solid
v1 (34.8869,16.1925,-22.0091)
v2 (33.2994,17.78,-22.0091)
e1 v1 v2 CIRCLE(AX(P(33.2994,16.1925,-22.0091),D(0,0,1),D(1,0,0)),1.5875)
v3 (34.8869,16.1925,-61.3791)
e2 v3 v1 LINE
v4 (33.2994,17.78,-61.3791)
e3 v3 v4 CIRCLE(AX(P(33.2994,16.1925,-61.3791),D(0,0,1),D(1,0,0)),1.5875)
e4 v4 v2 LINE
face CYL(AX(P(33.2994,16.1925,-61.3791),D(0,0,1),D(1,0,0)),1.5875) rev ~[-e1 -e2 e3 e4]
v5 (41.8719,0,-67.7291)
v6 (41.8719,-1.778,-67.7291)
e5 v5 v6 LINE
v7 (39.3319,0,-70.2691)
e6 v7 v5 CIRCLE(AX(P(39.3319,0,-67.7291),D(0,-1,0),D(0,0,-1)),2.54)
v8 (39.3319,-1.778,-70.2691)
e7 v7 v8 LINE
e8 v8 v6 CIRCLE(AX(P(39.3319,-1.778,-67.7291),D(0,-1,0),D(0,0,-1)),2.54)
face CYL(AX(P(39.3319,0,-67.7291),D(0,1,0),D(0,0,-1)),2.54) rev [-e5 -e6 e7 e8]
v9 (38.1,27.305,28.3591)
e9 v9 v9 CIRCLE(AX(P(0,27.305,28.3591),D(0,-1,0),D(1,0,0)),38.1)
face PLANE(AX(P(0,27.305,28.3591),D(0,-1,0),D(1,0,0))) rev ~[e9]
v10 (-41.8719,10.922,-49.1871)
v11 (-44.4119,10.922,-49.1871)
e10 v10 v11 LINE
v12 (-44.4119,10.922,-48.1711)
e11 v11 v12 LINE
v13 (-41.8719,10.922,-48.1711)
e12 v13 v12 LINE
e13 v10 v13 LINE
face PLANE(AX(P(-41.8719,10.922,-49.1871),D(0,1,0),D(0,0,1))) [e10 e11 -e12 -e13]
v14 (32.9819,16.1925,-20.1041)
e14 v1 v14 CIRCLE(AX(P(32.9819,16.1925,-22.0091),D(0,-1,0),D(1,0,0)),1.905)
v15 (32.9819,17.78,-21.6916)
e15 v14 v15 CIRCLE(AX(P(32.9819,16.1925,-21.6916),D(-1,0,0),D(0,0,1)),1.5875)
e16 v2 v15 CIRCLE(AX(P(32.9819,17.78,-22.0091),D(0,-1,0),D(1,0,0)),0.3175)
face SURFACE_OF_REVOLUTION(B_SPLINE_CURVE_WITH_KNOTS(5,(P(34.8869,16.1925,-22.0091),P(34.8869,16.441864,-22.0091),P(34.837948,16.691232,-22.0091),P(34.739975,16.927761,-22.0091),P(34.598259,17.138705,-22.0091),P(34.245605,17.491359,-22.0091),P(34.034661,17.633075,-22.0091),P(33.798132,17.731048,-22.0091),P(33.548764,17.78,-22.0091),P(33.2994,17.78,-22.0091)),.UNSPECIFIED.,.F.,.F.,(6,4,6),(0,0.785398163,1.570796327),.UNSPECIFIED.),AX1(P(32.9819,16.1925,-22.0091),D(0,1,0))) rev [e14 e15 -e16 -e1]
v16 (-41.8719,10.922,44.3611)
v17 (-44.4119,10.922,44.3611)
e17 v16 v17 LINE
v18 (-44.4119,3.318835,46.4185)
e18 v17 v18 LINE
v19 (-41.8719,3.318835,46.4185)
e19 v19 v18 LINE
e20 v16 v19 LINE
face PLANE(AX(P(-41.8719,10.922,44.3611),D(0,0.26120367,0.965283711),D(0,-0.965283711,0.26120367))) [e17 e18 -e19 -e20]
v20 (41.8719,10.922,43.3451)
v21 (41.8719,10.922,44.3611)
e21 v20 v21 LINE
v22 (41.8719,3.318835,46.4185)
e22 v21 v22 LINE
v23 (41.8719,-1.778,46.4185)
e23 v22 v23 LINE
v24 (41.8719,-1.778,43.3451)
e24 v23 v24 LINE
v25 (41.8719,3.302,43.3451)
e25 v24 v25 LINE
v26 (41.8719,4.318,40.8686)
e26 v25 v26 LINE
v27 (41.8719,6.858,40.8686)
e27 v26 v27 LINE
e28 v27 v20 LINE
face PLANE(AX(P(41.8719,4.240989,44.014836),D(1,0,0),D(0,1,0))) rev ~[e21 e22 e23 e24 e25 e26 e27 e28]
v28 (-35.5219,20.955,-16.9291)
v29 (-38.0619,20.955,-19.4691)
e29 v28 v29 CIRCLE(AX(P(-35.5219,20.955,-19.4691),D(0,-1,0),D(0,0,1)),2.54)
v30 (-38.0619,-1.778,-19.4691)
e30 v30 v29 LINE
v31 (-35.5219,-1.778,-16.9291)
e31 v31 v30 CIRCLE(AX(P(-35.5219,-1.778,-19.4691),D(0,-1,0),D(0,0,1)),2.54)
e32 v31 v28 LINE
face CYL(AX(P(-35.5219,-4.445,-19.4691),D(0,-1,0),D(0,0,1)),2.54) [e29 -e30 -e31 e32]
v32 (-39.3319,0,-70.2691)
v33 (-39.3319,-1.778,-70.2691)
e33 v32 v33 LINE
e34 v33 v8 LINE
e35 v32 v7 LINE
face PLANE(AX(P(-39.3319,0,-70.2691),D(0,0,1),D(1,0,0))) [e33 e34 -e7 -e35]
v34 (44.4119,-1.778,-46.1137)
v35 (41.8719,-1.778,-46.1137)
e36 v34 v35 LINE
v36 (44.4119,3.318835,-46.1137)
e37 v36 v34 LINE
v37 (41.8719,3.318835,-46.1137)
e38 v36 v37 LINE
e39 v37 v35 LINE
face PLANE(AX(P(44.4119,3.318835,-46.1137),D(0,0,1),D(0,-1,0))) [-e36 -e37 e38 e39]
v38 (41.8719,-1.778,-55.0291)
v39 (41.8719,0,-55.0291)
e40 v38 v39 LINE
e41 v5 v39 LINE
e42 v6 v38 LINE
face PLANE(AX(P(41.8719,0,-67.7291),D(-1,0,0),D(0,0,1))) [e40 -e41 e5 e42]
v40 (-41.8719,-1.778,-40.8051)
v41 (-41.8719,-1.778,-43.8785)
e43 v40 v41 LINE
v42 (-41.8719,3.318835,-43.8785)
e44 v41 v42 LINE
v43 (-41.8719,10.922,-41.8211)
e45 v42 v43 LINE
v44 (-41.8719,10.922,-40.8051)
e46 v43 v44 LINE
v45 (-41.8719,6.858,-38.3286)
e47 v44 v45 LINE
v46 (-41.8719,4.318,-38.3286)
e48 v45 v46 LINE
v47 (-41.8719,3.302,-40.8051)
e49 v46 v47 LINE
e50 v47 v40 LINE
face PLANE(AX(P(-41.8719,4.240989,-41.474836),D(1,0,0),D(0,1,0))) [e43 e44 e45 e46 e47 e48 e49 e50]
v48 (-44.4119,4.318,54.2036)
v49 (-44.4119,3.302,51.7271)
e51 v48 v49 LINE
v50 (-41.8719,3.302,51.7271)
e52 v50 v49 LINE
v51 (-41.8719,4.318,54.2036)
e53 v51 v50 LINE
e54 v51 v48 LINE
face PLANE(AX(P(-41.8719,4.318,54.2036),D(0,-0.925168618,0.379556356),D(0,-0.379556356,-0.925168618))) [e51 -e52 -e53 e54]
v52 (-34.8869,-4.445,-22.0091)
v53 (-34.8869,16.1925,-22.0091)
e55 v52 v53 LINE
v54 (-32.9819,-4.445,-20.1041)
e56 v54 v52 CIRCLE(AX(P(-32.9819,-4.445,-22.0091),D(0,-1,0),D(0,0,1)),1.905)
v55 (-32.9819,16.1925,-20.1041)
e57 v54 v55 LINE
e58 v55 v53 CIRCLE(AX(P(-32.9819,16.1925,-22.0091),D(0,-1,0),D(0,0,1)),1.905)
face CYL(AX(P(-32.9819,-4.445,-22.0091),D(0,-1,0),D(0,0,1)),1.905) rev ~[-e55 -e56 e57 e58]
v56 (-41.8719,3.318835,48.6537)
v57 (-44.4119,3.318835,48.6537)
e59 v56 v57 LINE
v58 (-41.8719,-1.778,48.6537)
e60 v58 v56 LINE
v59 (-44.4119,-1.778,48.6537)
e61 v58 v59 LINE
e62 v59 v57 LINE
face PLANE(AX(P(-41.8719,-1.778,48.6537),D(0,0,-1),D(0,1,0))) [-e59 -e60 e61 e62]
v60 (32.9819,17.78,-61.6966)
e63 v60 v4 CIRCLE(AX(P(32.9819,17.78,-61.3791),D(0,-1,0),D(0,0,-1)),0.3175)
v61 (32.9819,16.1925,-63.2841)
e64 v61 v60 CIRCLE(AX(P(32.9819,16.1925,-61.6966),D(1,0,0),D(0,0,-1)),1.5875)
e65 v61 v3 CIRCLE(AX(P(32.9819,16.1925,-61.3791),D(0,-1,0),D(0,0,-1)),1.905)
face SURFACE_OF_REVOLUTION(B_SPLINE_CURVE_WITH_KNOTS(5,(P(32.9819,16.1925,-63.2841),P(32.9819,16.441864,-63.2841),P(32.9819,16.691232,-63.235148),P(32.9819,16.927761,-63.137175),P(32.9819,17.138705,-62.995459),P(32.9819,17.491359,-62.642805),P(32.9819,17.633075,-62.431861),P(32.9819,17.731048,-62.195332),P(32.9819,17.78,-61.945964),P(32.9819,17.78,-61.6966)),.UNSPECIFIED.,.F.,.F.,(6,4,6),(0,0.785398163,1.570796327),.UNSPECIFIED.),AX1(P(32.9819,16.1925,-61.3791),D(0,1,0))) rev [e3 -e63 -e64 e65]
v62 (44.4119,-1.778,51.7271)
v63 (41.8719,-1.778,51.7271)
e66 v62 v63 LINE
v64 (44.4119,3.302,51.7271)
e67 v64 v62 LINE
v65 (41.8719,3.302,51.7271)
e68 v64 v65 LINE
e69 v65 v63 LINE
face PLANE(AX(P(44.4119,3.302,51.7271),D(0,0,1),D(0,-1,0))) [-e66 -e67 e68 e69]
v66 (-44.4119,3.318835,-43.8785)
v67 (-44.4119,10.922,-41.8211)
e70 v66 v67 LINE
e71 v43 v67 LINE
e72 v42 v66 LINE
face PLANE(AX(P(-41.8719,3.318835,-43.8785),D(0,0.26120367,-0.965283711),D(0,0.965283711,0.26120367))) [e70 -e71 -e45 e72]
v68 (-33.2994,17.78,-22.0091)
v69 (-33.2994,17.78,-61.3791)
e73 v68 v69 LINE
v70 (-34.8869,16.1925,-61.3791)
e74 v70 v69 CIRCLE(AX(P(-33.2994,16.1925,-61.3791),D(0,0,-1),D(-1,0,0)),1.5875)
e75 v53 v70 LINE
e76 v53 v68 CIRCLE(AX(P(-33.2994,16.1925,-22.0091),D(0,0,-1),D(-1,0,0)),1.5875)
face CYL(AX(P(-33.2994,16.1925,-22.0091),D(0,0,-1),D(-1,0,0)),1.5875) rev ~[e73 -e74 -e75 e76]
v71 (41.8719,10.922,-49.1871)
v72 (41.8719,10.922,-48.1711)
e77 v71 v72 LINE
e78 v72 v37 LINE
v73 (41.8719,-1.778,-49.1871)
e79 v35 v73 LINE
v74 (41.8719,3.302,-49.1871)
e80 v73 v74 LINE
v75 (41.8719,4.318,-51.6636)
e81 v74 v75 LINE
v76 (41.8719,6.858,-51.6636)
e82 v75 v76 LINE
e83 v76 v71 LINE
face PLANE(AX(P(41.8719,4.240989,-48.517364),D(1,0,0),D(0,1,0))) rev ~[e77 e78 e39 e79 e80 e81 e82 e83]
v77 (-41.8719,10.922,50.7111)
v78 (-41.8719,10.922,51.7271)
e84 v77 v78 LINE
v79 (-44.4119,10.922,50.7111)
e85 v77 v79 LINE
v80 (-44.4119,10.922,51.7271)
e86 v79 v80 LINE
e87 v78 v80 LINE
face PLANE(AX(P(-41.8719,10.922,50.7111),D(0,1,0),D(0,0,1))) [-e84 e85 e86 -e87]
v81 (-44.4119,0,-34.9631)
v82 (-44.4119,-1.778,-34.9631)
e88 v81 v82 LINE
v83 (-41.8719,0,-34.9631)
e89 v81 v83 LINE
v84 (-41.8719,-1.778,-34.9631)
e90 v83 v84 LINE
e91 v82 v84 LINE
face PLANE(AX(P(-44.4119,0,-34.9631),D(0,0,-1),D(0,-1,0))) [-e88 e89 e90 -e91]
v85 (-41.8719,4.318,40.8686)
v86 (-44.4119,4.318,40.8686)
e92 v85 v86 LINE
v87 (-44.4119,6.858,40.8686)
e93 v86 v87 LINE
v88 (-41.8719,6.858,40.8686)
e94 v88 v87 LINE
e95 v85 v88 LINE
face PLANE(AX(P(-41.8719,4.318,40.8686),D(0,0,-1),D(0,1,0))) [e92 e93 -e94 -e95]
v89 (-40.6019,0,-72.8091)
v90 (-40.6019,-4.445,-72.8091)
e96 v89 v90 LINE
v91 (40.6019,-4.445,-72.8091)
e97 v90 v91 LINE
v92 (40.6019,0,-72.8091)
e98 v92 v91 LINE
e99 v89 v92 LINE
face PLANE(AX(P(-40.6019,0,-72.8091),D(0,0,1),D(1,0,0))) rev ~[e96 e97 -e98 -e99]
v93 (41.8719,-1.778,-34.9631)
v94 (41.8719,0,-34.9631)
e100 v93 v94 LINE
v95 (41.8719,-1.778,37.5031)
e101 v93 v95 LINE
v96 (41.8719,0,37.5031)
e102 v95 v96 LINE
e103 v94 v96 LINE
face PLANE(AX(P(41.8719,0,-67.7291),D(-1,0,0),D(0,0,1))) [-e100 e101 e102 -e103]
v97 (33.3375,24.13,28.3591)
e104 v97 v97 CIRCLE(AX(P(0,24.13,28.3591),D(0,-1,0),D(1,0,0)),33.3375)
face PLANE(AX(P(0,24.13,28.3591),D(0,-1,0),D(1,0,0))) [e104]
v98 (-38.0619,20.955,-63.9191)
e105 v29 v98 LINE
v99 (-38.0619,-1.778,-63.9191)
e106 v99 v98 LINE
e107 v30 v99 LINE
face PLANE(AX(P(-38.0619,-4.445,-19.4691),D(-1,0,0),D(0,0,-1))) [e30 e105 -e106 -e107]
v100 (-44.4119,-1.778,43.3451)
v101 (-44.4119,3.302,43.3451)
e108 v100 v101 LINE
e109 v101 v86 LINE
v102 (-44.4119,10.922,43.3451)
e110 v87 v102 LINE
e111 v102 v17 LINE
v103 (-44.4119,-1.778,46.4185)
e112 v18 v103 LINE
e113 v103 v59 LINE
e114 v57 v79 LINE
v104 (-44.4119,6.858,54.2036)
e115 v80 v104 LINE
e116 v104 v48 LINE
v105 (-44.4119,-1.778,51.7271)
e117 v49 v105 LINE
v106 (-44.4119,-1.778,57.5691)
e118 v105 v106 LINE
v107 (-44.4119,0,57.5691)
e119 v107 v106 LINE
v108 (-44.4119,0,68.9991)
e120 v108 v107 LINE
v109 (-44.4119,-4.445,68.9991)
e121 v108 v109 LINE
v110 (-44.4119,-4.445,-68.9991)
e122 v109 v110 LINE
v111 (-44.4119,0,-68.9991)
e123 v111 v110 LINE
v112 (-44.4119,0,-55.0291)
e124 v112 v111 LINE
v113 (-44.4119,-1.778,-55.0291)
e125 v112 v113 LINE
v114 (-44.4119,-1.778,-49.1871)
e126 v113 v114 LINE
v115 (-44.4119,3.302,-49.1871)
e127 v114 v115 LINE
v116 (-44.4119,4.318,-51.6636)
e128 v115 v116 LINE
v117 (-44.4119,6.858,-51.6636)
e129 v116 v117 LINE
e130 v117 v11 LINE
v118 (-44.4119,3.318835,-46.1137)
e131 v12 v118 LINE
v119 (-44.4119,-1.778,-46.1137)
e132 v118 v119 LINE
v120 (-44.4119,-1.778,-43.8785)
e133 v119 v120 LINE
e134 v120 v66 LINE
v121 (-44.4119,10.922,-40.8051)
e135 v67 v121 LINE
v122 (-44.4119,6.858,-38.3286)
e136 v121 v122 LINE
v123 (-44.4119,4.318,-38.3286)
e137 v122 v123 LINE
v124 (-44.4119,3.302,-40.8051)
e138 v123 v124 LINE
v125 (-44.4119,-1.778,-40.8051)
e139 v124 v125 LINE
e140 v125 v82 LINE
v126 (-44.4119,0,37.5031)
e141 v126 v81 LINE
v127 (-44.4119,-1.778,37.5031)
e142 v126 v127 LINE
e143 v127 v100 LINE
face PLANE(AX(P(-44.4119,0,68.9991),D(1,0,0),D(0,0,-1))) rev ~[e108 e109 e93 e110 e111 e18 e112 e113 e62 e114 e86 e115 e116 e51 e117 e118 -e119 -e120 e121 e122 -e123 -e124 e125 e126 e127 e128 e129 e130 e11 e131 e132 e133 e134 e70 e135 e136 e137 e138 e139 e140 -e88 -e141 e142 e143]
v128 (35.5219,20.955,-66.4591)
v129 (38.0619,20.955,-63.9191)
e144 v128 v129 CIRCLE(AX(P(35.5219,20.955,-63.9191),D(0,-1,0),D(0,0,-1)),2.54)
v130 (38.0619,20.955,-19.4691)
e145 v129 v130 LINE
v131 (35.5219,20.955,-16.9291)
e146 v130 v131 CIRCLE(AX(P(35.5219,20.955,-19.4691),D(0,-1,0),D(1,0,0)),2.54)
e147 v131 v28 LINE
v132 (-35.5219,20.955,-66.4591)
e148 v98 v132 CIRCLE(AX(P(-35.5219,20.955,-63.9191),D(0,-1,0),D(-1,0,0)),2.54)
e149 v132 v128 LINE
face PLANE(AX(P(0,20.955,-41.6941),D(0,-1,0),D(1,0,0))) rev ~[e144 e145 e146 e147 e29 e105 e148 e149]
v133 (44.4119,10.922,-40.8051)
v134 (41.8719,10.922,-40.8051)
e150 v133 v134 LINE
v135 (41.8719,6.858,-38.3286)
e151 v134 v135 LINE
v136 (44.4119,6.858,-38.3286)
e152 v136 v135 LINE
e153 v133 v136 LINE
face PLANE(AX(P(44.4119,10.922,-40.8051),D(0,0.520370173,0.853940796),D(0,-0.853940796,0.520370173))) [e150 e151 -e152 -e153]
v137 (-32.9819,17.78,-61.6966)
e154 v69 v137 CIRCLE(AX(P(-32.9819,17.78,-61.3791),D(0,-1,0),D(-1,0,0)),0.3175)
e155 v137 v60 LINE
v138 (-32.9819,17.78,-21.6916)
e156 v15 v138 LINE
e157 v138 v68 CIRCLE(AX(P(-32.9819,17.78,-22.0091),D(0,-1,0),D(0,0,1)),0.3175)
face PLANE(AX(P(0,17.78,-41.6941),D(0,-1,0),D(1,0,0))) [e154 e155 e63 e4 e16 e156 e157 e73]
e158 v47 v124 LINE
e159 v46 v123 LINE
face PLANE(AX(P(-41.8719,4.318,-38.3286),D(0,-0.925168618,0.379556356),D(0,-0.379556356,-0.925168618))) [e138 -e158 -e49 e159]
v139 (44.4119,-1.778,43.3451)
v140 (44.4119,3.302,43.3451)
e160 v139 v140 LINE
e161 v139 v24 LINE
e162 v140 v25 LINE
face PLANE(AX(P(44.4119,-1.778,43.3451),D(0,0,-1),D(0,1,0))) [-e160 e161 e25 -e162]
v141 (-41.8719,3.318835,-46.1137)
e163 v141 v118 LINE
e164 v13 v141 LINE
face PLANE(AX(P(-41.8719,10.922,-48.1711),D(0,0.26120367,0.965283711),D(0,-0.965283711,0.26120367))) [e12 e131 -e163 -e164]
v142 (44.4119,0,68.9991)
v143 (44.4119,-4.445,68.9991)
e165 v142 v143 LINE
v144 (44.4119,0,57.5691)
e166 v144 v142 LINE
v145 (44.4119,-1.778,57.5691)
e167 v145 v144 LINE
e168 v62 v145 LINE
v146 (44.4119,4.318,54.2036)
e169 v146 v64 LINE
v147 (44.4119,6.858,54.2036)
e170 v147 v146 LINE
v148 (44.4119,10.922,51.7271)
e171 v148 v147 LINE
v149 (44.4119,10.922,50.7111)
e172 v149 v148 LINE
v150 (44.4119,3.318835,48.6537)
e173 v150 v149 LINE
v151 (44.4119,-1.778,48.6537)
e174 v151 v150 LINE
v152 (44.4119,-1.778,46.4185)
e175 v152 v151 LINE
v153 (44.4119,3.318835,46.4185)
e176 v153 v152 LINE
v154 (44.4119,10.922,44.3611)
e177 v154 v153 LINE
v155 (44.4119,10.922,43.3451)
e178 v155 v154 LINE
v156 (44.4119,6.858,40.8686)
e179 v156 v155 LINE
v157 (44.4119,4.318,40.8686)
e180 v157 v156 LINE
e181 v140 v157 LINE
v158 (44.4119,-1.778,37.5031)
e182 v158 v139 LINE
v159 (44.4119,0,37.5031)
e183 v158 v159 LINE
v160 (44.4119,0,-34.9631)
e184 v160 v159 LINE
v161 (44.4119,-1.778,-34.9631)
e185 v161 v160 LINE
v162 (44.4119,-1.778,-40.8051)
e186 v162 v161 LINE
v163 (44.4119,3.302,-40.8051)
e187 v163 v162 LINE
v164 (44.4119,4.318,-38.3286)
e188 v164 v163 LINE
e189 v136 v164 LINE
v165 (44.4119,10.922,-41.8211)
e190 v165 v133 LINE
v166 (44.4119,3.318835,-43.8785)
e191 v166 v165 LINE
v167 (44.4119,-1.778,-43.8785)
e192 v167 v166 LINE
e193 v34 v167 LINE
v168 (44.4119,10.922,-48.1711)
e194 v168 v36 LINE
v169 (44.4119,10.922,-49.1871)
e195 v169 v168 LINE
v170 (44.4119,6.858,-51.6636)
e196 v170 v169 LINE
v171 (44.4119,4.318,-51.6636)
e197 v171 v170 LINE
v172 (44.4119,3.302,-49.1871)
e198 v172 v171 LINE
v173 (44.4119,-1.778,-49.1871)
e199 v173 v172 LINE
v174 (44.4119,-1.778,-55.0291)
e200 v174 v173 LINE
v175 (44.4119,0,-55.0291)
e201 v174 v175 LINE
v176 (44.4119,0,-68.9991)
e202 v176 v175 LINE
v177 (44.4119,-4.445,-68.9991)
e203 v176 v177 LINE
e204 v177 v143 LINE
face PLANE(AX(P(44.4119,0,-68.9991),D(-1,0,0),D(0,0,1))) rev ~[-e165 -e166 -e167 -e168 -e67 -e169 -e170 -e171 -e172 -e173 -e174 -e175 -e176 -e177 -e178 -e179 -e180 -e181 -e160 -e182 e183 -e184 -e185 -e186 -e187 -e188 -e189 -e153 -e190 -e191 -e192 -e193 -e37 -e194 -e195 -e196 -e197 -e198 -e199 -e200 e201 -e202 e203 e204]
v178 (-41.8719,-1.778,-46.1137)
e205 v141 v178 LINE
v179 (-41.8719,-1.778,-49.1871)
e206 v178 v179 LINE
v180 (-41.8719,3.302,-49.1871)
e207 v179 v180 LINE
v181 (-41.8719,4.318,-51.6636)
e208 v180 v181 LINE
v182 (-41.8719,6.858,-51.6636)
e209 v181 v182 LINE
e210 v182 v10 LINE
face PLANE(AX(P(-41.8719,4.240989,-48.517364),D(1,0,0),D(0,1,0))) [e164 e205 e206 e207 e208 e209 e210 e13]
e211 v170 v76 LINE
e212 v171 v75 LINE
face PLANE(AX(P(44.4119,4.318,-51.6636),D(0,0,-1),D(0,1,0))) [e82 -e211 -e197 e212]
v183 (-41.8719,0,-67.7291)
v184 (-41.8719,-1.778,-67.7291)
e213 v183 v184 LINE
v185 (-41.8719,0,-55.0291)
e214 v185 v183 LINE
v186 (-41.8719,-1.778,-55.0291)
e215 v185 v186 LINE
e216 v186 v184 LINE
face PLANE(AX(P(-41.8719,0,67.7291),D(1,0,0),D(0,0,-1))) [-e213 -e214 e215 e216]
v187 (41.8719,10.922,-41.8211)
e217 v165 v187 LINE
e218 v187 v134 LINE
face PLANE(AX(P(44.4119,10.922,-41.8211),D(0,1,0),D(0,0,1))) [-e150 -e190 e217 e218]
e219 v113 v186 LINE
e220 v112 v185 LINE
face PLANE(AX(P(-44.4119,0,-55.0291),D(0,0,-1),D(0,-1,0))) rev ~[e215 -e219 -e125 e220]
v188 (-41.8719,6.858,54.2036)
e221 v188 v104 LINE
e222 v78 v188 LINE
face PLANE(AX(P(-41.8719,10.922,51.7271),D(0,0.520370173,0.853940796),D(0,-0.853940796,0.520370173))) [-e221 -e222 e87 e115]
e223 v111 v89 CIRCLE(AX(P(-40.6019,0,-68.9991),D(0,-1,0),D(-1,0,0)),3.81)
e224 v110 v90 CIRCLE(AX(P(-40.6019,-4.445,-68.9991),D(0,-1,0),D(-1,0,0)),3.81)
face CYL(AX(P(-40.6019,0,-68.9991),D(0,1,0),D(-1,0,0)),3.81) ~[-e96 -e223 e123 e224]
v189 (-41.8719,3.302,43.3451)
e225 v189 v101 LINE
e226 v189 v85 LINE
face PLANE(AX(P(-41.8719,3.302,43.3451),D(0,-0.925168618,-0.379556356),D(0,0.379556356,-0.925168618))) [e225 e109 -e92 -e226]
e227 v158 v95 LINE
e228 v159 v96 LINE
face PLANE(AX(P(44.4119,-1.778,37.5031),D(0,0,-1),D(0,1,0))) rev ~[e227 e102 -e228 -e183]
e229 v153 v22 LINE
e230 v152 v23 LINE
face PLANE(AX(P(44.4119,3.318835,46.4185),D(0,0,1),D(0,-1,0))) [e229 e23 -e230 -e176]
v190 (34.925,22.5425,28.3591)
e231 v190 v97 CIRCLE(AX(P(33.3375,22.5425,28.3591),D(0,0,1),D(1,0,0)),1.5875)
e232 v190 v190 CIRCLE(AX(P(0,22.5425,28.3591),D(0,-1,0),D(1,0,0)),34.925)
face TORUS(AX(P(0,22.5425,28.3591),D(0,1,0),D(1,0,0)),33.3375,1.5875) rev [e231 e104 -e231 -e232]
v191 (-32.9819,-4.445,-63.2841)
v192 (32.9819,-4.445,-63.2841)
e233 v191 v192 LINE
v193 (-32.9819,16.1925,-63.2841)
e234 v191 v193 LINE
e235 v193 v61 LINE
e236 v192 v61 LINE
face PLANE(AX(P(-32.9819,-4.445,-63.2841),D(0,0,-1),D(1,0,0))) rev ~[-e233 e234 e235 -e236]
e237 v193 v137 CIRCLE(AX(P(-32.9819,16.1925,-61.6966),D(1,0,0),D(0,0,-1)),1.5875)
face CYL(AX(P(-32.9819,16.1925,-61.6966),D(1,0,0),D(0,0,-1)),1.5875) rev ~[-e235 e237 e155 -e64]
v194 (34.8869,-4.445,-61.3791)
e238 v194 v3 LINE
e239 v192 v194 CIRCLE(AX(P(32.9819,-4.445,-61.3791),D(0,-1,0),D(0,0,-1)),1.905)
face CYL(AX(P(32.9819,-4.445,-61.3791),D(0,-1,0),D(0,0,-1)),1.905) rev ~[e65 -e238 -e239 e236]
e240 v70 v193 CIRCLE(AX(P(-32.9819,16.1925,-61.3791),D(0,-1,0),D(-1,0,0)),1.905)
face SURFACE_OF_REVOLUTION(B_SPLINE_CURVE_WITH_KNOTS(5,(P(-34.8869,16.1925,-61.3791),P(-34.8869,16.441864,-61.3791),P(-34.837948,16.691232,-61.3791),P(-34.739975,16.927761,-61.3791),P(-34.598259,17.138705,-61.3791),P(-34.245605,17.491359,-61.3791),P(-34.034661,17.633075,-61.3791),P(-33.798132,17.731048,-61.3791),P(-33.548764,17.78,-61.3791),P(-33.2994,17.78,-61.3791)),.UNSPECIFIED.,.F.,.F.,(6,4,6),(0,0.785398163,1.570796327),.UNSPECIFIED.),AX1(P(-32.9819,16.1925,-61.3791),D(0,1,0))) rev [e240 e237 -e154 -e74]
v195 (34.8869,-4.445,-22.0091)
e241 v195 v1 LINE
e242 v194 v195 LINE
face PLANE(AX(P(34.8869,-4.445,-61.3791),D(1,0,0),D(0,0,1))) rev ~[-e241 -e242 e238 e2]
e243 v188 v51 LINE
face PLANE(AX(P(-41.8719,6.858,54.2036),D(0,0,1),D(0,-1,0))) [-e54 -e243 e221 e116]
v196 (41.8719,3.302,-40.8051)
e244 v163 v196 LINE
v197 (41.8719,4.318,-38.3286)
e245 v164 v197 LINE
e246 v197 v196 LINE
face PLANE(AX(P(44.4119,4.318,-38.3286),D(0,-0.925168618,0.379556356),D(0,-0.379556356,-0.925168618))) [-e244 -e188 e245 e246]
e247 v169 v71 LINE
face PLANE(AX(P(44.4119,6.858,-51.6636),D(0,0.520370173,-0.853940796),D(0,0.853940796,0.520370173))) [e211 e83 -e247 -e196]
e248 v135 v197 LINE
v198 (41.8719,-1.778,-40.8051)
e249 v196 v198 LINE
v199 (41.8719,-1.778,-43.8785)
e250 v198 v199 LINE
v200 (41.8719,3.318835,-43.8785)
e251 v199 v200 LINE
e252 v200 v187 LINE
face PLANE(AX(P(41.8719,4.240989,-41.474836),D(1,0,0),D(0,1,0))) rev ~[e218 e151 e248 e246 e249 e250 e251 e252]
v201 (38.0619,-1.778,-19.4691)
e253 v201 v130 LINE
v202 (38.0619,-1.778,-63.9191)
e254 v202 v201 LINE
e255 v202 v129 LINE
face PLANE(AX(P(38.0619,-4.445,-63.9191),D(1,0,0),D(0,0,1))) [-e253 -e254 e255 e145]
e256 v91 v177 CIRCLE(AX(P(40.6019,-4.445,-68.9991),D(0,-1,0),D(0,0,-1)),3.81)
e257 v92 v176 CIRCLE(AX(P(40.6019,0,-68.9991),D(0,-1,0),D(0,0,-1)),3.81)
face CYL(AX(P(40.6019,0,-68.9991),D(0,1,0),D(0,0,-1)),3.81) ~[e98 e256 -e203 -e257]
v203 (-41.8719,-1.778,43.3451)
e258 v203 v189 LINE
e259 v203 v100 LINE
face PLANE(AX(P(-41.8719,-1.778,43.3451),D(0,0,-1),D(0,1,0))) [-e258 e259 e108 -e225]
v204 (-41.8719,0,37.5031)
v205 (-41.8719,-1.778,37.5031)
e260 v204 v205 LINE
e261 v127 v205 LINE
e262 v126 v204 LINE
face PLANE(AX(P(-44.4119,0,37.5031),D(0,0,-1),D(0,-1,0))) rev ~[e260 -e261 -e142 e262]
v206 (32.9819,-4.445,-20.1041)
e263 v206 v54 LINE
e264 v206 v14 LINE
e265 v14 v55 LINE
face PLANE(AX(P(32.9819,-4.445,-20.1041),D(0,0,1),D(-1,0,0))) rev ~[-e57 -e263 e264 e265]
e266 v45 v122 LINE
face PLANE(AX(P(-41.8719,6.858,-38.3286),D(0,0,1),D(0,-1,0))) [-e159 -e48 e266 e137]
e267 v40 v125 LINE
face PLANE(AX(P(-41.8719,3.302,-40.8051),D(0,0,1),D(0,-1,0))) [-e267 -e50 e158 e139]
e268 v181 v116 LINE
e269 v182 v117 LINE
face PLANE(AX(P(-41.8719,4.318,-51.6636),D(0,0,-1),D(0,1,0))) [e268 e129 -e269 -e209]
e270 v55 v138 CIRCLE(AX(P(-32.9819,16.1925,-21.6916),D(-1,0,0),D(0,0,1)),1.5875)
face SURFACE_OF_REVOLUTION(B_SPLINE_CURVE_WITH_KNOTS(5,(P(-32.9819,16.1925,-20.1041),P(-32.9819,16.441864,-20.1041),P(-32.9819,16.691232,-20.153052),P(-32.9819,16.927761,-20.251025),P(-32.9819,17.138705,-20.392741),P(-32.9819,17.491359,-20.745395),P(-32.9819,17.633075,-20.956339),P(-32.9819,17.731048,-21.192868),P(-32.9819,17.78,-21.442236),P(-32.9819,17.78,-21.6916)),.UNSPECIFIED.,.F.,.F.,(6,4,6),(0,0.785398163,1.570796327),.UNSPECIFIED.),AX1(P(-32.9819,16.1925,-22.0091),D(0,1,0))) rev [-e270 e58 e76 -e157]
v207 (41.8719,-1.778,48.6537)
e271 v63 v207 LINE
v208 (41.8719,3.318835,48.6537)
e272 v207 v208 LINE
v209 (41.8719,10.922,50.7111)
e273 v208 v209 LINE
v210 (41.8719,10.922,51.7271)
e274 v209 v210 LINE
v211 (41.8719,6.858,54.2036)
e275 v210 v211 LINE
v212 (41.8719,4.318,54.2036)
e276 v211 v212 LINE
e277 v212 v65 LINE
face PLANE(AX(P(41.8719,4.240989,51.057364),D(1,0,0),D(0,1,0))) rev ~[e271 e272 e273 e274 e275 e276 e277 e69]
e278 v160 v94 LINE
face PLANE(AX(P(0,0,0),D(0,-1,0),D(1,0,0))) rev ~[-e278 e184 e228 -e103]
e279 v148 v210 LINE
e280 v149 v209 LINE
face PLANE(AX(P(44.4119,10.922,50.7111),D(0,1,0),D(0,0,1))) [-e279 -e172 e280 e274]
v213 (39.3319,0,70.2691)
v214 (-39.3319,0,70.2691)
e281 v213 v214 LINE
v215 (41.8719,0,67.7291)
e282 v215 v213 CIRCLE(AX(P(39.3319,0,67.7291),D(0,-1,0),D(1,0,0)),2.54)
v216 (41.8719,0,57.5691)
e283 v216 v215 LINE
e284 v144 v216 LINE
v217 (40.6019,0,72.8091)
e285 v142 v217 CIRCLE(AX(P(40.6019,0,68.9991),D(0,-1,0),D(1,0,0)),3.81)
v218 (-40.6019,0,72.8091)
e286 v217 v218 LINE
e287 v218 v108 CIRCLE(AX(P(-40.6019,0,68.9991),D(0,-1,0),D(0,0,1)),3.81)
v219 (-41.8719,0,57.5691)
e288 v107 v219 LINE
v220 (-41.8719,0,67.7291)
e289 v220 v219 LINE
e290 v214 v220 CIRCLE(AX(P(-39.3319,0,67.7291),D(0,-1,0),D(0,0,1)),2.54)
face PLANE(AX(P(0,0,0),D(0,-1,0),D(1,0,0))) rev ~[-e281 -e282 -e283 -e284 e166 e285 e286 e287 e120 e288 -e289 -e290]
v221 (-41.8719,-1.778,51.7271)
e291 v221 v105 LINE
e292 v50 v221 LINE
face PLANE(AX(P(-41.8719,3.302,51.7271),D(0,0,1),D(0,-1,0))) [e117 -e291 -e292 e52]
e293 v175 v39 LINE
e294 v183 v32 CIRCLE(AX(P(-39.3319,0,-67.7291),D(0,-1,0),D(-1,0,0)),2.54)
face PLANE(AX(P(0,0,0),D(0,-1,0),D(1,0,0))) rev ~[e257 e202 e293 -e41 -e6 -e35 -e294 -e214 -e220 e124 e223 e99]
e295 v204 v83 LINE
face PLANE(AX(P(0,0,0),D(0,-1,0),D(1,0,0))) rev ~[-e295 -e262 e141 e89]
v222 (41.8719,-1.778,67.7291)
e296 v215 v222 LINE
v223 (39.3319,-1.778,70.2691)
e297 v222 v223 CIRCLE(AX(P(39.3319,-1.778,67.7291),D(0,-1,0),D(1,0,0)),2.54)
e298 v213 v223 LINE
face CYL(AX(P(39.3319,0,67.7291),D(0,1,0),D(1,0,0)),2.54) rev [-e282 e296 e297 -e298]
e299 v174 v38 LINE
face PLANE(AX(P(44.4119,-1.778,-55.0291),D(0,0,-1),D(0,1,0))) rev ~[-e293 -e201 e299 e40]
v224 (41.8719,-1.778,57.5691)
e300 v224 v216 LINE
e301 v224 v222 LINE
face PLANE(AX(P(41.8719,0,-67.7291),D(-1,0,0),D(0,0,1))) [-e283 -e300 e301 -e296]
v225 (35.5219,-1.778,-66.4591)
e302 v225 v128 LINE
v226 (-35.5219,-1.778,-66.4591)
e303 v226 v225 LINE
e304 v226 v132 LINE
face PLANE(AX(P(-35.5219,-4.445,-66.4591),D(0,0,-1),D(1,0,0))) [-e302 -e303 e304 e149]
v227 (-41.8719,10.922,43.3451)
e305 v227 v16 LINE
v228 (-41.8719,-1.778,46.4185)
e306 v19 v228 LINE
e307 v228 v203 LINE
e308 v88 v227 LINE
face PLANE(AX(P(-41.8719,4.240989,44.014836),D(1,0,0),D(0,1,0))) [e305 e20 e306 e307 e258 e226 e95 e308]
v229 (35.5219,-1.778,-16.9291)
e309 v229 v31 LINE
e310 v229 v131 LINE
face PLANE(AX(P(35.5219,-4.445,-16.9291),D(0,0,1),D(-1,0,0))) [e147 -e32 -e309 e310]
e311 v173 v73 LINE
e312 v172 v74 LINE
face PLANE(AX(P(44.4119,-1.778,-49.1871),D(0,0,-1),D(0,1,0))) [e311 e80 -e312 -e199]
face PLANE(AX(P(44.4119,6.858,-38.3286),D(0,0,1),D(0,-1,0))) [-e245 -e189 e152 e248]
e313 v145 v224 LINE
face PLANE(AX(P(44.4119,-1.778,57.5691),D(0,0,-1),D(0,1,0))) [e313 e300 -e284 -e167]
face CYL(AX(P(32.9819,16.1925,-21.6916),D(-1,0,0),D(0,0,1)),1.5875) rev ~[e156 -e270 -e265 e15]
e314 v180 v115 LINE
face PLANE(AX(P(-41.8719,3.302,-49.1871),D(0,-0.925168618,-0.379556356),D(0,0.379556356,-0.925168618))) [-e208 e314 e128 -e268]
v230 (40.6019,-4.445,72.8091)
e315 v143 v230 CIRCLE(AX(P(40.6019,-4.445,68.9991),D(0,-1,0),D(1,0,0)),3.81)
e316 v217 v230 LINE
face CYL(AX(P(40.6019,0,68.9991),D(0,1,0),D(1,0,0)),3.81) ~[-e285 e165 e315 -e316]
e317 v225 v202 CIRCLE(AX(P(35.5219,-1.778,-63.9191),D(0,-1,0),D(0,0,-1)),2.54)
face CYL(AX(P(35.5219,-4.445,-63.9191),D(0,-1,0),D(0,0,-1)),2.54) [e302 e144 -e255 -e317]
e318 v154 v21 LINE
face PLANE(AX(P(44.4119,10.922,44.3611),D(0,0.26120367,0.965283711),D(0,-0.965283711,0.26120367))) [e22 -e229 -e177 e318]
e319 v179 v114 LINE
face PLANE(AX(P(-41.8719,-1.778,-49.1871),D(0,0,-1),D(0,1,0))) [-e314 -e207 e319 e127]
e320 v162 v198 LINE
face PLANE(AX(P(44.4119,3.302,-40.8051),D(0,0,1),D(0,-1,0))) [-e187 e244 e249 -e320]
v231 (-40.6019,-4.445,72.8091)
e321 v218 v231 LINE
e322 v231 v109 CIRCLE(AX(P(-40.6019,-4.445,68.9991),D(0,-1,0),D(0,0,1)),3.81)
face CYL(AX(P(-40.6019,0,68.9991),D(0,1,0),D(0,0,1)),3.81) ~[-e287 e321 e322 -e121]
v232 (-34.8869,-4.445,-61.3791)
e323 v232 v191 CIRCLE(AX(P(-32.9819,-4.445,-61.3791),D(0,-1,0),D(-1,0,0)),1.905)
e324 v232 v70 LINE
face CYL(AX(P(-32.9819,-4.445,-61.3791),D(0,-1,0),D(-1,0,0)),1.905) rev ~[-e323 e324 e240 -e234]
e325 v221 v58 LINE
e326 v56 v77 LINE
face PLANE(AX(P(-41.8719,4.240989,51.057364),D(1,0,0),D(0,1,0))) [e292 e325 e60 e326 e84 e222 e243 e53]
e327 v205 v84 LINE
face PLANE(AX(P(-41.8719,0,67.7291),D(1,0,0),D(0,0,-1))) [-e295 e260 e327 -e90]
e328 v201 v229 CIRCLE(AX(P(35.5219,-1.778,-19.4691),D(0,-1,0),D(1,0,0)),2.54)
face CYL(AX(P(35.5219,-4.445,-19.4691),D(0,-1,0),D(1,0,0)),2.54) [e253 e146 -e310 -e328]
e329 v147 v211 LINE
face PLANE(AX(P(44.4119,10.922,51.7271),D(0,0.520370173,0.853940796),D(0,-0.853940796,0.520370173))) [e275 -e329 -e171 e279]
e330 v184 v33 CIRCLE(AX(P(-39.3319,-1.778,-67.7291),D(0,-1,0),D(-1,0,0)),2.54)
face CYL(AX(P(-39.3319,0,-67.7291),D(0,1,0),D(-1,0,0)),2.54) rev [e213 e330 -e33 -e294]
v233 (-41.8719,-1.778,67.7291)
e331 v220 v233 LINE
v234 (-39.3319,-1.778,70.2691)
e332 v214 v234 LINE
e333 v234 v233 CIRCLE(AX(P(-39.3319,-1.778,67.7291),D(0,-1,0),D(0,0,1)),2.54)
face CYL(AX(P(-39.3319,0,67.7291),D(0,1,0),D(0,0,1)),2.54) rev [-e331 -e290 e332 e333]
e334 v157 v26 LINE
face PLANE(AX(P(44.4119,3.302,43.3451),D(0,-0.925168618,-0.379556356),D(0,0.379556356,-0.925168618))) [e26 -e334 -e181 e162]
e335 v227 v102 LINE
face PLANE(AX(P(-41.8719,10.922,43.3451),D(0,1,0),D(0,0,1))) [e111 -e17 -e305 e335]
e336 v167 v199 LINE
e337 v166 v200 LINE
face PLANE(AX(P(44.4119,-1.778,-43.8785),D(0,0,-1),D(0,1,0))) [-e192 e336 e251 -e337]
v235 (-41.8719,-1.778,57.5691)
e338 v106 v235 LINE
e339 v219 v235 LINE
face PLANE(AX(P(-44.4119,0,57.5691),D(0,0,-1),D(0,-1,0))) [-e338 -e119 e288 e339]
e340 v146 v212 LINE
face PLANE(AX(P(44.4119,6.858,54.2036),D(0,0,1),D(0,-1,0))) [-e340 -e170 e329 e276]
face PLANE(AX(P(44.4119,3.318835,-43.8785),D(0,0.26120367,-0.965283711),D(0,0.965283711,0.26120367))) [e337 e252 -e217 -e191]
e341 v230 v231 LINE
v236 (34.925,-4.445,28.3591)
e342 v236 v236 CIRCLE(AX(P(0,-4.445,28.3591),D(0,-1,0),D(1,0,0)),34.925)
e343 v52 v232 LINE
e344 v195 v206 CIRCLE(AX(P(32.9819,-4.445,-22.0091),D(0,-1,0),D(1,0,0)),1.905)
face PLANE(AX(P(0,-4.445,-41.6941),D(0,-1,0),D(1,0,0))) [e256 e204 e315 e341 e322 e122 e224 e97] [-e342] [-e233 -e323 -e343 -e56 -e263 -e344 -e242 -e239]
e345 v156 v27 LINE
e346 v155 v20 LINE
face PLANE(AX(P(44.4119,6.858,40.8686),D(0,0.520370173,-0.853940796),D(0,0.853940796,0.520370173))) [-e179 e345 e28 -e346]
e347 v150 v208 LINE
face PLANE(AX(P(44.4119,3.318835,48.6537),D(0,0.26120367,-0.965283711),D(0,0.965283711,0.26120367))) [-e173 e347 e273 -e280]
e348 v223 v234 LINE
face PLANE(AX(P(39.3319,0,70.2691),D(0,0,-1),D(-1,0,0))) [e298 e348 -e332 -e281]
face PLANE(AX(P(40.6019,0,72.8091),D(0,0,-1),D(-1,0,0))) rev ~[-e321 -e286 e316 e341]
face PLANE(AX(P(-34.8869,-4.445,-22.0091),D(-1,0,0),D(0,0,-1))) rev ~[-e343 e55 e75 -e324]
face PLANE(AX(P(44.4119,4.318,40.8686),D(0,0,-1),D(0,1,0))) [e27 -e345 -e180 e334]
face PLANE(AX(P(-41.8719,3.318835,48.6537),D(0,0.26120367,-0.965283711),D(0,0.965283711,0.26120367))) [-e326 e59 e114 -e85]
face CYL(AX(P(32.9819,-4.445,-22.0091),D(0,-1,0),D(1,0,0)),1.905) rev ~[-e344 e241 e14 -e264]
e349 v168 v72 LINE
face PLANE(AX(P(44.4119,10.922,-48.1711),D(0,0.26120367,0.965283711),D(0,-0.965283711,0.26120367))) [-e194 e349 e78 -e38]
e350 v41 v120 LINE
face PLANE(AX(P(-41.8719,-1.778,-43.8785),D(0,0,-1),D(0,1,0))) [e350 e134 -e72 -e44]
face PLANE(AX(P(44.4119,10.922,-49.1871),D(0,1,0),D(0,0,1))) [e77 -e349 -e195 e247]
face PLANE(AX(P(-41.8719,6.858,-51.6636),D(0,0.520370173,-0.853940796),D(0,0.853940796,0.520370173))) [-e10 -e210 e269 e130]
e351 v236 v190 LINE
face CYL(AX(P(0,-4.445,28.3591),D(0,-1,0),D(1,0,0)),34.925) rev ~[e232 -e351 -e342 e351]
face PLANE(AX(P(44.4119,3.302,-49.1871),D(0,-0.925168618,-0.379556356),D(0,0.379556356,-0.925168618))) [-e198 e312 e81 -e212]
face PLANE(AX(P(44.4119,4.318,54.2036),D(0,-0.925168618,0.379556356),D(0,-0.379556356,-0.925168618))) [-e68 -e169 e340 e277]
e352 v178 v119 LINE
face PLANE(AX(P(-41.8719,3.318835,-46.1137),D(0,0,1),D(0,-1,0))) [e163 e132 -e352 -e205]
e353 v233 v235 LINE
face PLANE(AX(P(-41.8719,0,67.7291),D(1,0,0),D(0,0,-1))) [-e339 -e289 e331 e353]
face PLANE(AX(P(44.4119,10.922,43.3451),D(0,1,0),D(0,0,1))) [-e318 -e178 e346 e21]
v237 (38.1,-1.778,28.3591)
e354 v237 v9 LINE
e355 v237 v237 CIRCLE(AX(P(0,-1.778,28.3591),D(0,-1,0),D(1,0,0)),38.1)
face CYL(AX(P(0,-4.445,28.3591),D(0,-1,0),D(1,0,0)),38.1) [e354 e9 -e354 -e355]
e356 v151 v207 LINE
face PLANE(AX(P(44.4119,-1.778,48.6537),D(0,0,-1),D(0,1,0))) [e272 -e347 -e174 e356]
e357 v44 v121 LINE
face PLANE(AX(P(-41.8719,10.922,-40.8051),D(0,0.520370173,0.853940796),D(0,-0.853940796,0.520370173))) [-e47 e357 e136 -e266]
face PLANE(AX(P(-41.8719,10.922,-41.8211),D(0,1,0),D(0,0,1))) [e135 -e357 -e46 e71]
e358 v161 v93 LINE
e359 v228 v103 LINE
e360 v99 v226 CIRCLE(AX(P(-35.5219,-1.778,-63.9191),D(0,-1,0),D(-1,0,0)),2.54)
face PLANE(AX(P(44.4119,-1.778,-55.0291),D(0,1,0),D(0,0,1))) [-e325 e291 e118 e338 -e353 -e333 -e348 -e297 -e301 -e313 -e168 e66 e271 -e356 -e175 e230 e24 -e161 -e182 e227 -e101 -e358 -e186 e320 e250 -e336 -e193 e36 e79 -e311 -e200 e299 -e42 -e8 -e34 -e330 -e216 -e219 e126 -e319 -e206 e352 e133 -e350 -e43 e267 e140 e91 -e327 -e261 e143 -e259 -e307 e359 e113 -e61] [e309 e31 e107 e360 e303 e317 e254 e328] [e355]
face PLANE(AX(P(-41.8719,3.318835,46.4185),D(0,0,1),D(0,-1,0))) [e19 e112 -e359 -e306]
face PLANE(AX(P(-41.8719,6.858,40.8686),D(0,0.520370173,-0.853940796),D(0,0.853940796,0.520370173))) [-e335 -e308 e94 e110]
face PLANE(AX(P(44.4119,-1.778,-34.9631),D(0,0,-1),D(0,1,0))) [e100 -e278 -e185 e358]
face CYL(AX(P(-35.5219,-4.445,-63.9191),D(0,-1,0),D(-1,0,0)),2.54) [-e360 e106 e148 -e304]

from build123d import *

# Parameters (mm, degrees)
F1_DEPTH  = 4.445
F3_DEPTH  = 1.778
F5_R      = 38.1
F6_DEPTH  = 31.75
F4_R      = 34.925
F7_DEPTH  = 28.575
F10_DEPTH = 25.4
F11_DEPTH = 22.225
F12_R     = 1.5875
F13_W     = 1.778
F13_H     = 20.066
F14_DEPTH = 2.54
F15_W     = 1.778
F15_H     = 20.066
F16_DEPTH = 2.54
F17_W     = 1.778
F17_H     = 20.066
F18_DEPTH = 2.54
F19_W     = 1.778
F19_H     = 20.066
F20_DEPTH = 2.54
F22_DEPTH = 2.54
F23_START = -86.2838
F23_DEPTH = 2.54


with BuildPart() as f1:
    # F0 (on Front) → F1 (new body)
    with BuildSketch(Plane.XZ):
        with BuildLine():
            Line((40.6019, 72.8091), (-40.6019, 72.8091))
            ThreePointArc((-40.6019, 72.8091), (-43.2959768363, 71.6931768363), (-44.4119, 68.9991))
            Line((-44.4119, 68.9991), (-44.4119, -68.9991))
            ThreePointArc((-44.4119, -68.9991), (-43.2959768363, -71.6931768363), (-40.6019, -72.8091))
            Line((-40.6019, -72.8091), (40.6019, -72.8091))
            ThreePointArc((40.6019, -72.8091), (43.2959768363, -71.6931768363), (44.4119, -68.9991))
            Line((44.4119, -68.9991), (44.4119, 68.9991))
            ThreePointArc((44.4119, 68.9991), (43.2959768363, 71.6931768363), (40.6019, 72.8091))
        make_face()
    extrude(amount=F1_DEPTH)

    # F2 (on face) → F3 (cut)
    with BuildSketch(Plane.XZ):
        with BuildLine():
            Line((41.8719, -67.7291), (41.8719, 67.7291))
            ThreePointArc((41.8719, 67.7291), (41.1279512242, 69.5251512242), (39.3319, 70.2691))
            Line((39.3319, 70.2691), (-39.3319, 70.2691))
            ThreePointArc((-39.3319, 70.2691), (-41.1279512242, 69.5251512242), (-41.8719, 67.7291))
            Line((-41.8719, 67.7291), (-41.8719, -67.7291))
            ThreePointArc((-41.8719, -67.7291), (-41.1279512242, -69.5251512242), (-39.3319, -70.2691))
            Line((-39.3319, -70.2691), (39.3319, -70.2691))
            ThreePointArc((39.3319, -70.2691), (41.1279512242, -69.5251512242), (41.8719, -67.7291))
        make_face()
    extrude(amount=F3_DEPTH, mode=Mode.SUBTRACT)

    # F5 (on face) → F6 (join)
    with BuildSketch(Plane.XZ.offset(4.445)):
        with Locations((0, 28.3591)):
            Circle(F5_R)
    extrude(amount=-F6_DEPTH)

    # F4 (on face) → F7 (cut)
    with BuildSketch(Plane.XZ.offset(4.445)):
        with Locations((0, 28.3591)):
            Circle(F4_R)
    extrude(amount=-F7_DEPTH, mode=Mode.SUBTRACT)

    # F8 (on face) → F10 (join)
    with BuildSketch(Plane.XZ.offset(4.445)):
        with BuildLine():
            Line((35.5219, -16.9291), (-35.5219, -16.9291))
            ThreePointArc((-35.5219, -16.9291), (-37.3179512242, -17.6730487758), (-38.0619, -19.4691))
            Line((-38.0619, -19.4691), (-38.0619, -63.9191))
            ThreePointArc((-38.0619, -63.9191), (-37.3179512242, -65.7151512242), (-35.5219, -66.4591))
            Line((-35.5219, -66.4591), (35.5219, -66.4591))
            ThreePointArc((35.5219, -66.4591), (37.3179512242, -65.7151512242), (38.0619, -63.9191))
            Line((38.0619, -63.9191), (38.0619, -19.4691))
            ThreePointArc((38.0619, -19.4691), (37.3179512242, -17.6730487758), (35.5219, -16.9291))
        make_face()
    extrude(amount=-F10_DEPTH)

    # F9 (on face) → F11 (cut)
    with BuildSketch(Plane.XZ.offset(4.445)):
        with BuildLine():
            Line((32.9819, -20.1041), (-32.9819, -20.1041))
            ThreePointArc((-32.9819, -20.1041), (-34.3289384182, -20.6620615818), (-34.8869, -22.0091))
            Line((-34.8869, -22.0091), (-34.8869, -61.3791))
            ThreePointArc((-34.8869, -61.3791), (-34.3289384182, -62.7261384182), (-32.9819, -63.2841))
            Line((-32.9819, -63.2841), (32.9819, -63.2841))
            ThreePointArc((32.9819, -63.2841), (34.3289384182, -62.7261384182), (34.8869, -61.3791))
            Line((34.8869, -61.3791), (34.8869, -22.0091))
            ThreePointArc((34.8869, -22.0091), (34.3289384182, -20.6620615818), (32.9819, -20.1041))
        make_face()
    extrude(amount=-F11_DEPTH, mode=Mode.SUBTRACT)

    # F12
    f12_edges = [f1.edges().sort_by_distance(p)[0] for p in [
        (34.8869, 17.78, -41.6941),
        (34.328938, 17.78, -20.662062),
        (0, 17.78, -20.1041),
        (-34.328938, 17.78, -20.662062),
        (-34.8869, 17.78, -41.6941),
        (-34.328938, 17.78, -62.726138),
        (0, 17.78, -63.2841),
        (34.328938, 17.78, -62.726138),
        (-34.925, 24.13, 28.3591),
    ]]
    fillet(f12_edges, radius=F12_R)

    # F13 (on face) → F14 (cut)
    with BuildSketch(Plane.YZ.offset(44.4119)):
        with Locations((-0.889, -44.9961)):
            Rectangle(F13_W, F13_H)
    extrude(amount=-F14_DEPTH, mode=Mode.SUBTRACT)

    # F15 (on face) → F16 (cut)
    with BuildSketch(Plane(origin=(-44.4119, 0, 0), x_dir=(0, -1, 0), z_dir=(-1, 0, 0))):
        with Locations((0.889, -44.9961)):
            Rectangle(F15_W, F15_H)
    extrude(amount=-F16_DEPTH, mode=Mode.SUBTRACT)

    # F17 (on face) → F18 (cut)
    with BuildSketch(Plane.YZ.offset(44.4119)):
        with Locations((-0.889, 47.5361)):
            Rectangle(F17_W, F17_H)
    extrude(amount=-F18_DEPTH, mode=Mode.SUBTRACT)

    # F19 (on face) → F20 (cut)
    with BuildSketch(Plane(origin=(-44.4119, 0, 0), x_dir=(0, -1, 0), z_dir=(-1, 0, 0))):
        with Locations((0.889, 47.5361)):
            Rectangle(F19_W, F19_H)
    extrude(amount=-F20_DEPTH, mode=Mode.SUBTRACT)

    # F21 (on face) → F22 (join)
    with BuildSketch(Plane.YZ.offset(44.4119)):
        Polygon((-1.778, -46.1137), (-1.778, -49.1871), (3.302, -49.1871), (4.318, -51.6636), (6.858, -51.6636), (10.922, -49.1871), (10.922, -48.1711), (3.3188345842, -46.1137), align=None)
        Polygon((-1.778, -40.8051), (-1.778, -43.8785), (3.3188345842, -43.8785), (10.922, -41.8211), (10.922, -40.8051), (6.858, -38.3286), (4.318, -38.3286), (3.302, -40.8051), align=None)
        Polygon((-1.778, 46.4185), (-1.778, 43.3451), (3.302, 43.3451), (4.318, 40.8686), (6.858, 40.8686), (10.922, 43.3451), (10.922, 44.3611), (3.3188345842, 46.4185), align=None)
        Polygon((3.302, 51.7271), (-1.778, 51.7271), (-1.778, 48.6537), (3.3188345842, 48.6537), (10.922, 50.7111), (10.922, 51.7271), (6.858, 54.2036), (4.318, 54.2036), align=None)
    extrude(amount=-F22_DEPTH)

    # F21 (on face) → F23 (join)
    with BuildSketch(Plane.YZ.offset(44.4119).offset(F23_START)):
        Polygon((-1.778, -46.1137), (-1.778, -49.1871), (3.302, -49.1871), (4.318, -51.6636), (6.858, -51.6636), (10.922, -49.1871), (10.922, -48.1711), (3.3188345842, -46.1137), align=None)
        Polygon((-1.778, -40.8051), (-1.778, -43.8785), (3.3188345842, -43.8785), (10.922, -41.8211), (10.922, -40.8051), (6.858, -38.3286), (4.318, -38.3286), (3.302, -40.8051), align=None)
        Polygon((-1.778, 46.4185), (-1.778, 43.3451), (3.302, 43.3451), (4.318, 40.8686), (6.858, 40.8686), (10.922, 43.3451), (10.922, 44.3611), (3.3188345842, 46.4185), align=None)
        Polygon((3.302, 51.7271), (-1.778, 51.7271), (-1.778, 48.6537), (3.3188345842, 48.6537), (10.922, 50.7111), (10.922, 51.7271), (6.858, 54.2036), (4.318, 54.2036), align=None)
    extrude(amount=-F23_DEPTH)


solid = f1.part
